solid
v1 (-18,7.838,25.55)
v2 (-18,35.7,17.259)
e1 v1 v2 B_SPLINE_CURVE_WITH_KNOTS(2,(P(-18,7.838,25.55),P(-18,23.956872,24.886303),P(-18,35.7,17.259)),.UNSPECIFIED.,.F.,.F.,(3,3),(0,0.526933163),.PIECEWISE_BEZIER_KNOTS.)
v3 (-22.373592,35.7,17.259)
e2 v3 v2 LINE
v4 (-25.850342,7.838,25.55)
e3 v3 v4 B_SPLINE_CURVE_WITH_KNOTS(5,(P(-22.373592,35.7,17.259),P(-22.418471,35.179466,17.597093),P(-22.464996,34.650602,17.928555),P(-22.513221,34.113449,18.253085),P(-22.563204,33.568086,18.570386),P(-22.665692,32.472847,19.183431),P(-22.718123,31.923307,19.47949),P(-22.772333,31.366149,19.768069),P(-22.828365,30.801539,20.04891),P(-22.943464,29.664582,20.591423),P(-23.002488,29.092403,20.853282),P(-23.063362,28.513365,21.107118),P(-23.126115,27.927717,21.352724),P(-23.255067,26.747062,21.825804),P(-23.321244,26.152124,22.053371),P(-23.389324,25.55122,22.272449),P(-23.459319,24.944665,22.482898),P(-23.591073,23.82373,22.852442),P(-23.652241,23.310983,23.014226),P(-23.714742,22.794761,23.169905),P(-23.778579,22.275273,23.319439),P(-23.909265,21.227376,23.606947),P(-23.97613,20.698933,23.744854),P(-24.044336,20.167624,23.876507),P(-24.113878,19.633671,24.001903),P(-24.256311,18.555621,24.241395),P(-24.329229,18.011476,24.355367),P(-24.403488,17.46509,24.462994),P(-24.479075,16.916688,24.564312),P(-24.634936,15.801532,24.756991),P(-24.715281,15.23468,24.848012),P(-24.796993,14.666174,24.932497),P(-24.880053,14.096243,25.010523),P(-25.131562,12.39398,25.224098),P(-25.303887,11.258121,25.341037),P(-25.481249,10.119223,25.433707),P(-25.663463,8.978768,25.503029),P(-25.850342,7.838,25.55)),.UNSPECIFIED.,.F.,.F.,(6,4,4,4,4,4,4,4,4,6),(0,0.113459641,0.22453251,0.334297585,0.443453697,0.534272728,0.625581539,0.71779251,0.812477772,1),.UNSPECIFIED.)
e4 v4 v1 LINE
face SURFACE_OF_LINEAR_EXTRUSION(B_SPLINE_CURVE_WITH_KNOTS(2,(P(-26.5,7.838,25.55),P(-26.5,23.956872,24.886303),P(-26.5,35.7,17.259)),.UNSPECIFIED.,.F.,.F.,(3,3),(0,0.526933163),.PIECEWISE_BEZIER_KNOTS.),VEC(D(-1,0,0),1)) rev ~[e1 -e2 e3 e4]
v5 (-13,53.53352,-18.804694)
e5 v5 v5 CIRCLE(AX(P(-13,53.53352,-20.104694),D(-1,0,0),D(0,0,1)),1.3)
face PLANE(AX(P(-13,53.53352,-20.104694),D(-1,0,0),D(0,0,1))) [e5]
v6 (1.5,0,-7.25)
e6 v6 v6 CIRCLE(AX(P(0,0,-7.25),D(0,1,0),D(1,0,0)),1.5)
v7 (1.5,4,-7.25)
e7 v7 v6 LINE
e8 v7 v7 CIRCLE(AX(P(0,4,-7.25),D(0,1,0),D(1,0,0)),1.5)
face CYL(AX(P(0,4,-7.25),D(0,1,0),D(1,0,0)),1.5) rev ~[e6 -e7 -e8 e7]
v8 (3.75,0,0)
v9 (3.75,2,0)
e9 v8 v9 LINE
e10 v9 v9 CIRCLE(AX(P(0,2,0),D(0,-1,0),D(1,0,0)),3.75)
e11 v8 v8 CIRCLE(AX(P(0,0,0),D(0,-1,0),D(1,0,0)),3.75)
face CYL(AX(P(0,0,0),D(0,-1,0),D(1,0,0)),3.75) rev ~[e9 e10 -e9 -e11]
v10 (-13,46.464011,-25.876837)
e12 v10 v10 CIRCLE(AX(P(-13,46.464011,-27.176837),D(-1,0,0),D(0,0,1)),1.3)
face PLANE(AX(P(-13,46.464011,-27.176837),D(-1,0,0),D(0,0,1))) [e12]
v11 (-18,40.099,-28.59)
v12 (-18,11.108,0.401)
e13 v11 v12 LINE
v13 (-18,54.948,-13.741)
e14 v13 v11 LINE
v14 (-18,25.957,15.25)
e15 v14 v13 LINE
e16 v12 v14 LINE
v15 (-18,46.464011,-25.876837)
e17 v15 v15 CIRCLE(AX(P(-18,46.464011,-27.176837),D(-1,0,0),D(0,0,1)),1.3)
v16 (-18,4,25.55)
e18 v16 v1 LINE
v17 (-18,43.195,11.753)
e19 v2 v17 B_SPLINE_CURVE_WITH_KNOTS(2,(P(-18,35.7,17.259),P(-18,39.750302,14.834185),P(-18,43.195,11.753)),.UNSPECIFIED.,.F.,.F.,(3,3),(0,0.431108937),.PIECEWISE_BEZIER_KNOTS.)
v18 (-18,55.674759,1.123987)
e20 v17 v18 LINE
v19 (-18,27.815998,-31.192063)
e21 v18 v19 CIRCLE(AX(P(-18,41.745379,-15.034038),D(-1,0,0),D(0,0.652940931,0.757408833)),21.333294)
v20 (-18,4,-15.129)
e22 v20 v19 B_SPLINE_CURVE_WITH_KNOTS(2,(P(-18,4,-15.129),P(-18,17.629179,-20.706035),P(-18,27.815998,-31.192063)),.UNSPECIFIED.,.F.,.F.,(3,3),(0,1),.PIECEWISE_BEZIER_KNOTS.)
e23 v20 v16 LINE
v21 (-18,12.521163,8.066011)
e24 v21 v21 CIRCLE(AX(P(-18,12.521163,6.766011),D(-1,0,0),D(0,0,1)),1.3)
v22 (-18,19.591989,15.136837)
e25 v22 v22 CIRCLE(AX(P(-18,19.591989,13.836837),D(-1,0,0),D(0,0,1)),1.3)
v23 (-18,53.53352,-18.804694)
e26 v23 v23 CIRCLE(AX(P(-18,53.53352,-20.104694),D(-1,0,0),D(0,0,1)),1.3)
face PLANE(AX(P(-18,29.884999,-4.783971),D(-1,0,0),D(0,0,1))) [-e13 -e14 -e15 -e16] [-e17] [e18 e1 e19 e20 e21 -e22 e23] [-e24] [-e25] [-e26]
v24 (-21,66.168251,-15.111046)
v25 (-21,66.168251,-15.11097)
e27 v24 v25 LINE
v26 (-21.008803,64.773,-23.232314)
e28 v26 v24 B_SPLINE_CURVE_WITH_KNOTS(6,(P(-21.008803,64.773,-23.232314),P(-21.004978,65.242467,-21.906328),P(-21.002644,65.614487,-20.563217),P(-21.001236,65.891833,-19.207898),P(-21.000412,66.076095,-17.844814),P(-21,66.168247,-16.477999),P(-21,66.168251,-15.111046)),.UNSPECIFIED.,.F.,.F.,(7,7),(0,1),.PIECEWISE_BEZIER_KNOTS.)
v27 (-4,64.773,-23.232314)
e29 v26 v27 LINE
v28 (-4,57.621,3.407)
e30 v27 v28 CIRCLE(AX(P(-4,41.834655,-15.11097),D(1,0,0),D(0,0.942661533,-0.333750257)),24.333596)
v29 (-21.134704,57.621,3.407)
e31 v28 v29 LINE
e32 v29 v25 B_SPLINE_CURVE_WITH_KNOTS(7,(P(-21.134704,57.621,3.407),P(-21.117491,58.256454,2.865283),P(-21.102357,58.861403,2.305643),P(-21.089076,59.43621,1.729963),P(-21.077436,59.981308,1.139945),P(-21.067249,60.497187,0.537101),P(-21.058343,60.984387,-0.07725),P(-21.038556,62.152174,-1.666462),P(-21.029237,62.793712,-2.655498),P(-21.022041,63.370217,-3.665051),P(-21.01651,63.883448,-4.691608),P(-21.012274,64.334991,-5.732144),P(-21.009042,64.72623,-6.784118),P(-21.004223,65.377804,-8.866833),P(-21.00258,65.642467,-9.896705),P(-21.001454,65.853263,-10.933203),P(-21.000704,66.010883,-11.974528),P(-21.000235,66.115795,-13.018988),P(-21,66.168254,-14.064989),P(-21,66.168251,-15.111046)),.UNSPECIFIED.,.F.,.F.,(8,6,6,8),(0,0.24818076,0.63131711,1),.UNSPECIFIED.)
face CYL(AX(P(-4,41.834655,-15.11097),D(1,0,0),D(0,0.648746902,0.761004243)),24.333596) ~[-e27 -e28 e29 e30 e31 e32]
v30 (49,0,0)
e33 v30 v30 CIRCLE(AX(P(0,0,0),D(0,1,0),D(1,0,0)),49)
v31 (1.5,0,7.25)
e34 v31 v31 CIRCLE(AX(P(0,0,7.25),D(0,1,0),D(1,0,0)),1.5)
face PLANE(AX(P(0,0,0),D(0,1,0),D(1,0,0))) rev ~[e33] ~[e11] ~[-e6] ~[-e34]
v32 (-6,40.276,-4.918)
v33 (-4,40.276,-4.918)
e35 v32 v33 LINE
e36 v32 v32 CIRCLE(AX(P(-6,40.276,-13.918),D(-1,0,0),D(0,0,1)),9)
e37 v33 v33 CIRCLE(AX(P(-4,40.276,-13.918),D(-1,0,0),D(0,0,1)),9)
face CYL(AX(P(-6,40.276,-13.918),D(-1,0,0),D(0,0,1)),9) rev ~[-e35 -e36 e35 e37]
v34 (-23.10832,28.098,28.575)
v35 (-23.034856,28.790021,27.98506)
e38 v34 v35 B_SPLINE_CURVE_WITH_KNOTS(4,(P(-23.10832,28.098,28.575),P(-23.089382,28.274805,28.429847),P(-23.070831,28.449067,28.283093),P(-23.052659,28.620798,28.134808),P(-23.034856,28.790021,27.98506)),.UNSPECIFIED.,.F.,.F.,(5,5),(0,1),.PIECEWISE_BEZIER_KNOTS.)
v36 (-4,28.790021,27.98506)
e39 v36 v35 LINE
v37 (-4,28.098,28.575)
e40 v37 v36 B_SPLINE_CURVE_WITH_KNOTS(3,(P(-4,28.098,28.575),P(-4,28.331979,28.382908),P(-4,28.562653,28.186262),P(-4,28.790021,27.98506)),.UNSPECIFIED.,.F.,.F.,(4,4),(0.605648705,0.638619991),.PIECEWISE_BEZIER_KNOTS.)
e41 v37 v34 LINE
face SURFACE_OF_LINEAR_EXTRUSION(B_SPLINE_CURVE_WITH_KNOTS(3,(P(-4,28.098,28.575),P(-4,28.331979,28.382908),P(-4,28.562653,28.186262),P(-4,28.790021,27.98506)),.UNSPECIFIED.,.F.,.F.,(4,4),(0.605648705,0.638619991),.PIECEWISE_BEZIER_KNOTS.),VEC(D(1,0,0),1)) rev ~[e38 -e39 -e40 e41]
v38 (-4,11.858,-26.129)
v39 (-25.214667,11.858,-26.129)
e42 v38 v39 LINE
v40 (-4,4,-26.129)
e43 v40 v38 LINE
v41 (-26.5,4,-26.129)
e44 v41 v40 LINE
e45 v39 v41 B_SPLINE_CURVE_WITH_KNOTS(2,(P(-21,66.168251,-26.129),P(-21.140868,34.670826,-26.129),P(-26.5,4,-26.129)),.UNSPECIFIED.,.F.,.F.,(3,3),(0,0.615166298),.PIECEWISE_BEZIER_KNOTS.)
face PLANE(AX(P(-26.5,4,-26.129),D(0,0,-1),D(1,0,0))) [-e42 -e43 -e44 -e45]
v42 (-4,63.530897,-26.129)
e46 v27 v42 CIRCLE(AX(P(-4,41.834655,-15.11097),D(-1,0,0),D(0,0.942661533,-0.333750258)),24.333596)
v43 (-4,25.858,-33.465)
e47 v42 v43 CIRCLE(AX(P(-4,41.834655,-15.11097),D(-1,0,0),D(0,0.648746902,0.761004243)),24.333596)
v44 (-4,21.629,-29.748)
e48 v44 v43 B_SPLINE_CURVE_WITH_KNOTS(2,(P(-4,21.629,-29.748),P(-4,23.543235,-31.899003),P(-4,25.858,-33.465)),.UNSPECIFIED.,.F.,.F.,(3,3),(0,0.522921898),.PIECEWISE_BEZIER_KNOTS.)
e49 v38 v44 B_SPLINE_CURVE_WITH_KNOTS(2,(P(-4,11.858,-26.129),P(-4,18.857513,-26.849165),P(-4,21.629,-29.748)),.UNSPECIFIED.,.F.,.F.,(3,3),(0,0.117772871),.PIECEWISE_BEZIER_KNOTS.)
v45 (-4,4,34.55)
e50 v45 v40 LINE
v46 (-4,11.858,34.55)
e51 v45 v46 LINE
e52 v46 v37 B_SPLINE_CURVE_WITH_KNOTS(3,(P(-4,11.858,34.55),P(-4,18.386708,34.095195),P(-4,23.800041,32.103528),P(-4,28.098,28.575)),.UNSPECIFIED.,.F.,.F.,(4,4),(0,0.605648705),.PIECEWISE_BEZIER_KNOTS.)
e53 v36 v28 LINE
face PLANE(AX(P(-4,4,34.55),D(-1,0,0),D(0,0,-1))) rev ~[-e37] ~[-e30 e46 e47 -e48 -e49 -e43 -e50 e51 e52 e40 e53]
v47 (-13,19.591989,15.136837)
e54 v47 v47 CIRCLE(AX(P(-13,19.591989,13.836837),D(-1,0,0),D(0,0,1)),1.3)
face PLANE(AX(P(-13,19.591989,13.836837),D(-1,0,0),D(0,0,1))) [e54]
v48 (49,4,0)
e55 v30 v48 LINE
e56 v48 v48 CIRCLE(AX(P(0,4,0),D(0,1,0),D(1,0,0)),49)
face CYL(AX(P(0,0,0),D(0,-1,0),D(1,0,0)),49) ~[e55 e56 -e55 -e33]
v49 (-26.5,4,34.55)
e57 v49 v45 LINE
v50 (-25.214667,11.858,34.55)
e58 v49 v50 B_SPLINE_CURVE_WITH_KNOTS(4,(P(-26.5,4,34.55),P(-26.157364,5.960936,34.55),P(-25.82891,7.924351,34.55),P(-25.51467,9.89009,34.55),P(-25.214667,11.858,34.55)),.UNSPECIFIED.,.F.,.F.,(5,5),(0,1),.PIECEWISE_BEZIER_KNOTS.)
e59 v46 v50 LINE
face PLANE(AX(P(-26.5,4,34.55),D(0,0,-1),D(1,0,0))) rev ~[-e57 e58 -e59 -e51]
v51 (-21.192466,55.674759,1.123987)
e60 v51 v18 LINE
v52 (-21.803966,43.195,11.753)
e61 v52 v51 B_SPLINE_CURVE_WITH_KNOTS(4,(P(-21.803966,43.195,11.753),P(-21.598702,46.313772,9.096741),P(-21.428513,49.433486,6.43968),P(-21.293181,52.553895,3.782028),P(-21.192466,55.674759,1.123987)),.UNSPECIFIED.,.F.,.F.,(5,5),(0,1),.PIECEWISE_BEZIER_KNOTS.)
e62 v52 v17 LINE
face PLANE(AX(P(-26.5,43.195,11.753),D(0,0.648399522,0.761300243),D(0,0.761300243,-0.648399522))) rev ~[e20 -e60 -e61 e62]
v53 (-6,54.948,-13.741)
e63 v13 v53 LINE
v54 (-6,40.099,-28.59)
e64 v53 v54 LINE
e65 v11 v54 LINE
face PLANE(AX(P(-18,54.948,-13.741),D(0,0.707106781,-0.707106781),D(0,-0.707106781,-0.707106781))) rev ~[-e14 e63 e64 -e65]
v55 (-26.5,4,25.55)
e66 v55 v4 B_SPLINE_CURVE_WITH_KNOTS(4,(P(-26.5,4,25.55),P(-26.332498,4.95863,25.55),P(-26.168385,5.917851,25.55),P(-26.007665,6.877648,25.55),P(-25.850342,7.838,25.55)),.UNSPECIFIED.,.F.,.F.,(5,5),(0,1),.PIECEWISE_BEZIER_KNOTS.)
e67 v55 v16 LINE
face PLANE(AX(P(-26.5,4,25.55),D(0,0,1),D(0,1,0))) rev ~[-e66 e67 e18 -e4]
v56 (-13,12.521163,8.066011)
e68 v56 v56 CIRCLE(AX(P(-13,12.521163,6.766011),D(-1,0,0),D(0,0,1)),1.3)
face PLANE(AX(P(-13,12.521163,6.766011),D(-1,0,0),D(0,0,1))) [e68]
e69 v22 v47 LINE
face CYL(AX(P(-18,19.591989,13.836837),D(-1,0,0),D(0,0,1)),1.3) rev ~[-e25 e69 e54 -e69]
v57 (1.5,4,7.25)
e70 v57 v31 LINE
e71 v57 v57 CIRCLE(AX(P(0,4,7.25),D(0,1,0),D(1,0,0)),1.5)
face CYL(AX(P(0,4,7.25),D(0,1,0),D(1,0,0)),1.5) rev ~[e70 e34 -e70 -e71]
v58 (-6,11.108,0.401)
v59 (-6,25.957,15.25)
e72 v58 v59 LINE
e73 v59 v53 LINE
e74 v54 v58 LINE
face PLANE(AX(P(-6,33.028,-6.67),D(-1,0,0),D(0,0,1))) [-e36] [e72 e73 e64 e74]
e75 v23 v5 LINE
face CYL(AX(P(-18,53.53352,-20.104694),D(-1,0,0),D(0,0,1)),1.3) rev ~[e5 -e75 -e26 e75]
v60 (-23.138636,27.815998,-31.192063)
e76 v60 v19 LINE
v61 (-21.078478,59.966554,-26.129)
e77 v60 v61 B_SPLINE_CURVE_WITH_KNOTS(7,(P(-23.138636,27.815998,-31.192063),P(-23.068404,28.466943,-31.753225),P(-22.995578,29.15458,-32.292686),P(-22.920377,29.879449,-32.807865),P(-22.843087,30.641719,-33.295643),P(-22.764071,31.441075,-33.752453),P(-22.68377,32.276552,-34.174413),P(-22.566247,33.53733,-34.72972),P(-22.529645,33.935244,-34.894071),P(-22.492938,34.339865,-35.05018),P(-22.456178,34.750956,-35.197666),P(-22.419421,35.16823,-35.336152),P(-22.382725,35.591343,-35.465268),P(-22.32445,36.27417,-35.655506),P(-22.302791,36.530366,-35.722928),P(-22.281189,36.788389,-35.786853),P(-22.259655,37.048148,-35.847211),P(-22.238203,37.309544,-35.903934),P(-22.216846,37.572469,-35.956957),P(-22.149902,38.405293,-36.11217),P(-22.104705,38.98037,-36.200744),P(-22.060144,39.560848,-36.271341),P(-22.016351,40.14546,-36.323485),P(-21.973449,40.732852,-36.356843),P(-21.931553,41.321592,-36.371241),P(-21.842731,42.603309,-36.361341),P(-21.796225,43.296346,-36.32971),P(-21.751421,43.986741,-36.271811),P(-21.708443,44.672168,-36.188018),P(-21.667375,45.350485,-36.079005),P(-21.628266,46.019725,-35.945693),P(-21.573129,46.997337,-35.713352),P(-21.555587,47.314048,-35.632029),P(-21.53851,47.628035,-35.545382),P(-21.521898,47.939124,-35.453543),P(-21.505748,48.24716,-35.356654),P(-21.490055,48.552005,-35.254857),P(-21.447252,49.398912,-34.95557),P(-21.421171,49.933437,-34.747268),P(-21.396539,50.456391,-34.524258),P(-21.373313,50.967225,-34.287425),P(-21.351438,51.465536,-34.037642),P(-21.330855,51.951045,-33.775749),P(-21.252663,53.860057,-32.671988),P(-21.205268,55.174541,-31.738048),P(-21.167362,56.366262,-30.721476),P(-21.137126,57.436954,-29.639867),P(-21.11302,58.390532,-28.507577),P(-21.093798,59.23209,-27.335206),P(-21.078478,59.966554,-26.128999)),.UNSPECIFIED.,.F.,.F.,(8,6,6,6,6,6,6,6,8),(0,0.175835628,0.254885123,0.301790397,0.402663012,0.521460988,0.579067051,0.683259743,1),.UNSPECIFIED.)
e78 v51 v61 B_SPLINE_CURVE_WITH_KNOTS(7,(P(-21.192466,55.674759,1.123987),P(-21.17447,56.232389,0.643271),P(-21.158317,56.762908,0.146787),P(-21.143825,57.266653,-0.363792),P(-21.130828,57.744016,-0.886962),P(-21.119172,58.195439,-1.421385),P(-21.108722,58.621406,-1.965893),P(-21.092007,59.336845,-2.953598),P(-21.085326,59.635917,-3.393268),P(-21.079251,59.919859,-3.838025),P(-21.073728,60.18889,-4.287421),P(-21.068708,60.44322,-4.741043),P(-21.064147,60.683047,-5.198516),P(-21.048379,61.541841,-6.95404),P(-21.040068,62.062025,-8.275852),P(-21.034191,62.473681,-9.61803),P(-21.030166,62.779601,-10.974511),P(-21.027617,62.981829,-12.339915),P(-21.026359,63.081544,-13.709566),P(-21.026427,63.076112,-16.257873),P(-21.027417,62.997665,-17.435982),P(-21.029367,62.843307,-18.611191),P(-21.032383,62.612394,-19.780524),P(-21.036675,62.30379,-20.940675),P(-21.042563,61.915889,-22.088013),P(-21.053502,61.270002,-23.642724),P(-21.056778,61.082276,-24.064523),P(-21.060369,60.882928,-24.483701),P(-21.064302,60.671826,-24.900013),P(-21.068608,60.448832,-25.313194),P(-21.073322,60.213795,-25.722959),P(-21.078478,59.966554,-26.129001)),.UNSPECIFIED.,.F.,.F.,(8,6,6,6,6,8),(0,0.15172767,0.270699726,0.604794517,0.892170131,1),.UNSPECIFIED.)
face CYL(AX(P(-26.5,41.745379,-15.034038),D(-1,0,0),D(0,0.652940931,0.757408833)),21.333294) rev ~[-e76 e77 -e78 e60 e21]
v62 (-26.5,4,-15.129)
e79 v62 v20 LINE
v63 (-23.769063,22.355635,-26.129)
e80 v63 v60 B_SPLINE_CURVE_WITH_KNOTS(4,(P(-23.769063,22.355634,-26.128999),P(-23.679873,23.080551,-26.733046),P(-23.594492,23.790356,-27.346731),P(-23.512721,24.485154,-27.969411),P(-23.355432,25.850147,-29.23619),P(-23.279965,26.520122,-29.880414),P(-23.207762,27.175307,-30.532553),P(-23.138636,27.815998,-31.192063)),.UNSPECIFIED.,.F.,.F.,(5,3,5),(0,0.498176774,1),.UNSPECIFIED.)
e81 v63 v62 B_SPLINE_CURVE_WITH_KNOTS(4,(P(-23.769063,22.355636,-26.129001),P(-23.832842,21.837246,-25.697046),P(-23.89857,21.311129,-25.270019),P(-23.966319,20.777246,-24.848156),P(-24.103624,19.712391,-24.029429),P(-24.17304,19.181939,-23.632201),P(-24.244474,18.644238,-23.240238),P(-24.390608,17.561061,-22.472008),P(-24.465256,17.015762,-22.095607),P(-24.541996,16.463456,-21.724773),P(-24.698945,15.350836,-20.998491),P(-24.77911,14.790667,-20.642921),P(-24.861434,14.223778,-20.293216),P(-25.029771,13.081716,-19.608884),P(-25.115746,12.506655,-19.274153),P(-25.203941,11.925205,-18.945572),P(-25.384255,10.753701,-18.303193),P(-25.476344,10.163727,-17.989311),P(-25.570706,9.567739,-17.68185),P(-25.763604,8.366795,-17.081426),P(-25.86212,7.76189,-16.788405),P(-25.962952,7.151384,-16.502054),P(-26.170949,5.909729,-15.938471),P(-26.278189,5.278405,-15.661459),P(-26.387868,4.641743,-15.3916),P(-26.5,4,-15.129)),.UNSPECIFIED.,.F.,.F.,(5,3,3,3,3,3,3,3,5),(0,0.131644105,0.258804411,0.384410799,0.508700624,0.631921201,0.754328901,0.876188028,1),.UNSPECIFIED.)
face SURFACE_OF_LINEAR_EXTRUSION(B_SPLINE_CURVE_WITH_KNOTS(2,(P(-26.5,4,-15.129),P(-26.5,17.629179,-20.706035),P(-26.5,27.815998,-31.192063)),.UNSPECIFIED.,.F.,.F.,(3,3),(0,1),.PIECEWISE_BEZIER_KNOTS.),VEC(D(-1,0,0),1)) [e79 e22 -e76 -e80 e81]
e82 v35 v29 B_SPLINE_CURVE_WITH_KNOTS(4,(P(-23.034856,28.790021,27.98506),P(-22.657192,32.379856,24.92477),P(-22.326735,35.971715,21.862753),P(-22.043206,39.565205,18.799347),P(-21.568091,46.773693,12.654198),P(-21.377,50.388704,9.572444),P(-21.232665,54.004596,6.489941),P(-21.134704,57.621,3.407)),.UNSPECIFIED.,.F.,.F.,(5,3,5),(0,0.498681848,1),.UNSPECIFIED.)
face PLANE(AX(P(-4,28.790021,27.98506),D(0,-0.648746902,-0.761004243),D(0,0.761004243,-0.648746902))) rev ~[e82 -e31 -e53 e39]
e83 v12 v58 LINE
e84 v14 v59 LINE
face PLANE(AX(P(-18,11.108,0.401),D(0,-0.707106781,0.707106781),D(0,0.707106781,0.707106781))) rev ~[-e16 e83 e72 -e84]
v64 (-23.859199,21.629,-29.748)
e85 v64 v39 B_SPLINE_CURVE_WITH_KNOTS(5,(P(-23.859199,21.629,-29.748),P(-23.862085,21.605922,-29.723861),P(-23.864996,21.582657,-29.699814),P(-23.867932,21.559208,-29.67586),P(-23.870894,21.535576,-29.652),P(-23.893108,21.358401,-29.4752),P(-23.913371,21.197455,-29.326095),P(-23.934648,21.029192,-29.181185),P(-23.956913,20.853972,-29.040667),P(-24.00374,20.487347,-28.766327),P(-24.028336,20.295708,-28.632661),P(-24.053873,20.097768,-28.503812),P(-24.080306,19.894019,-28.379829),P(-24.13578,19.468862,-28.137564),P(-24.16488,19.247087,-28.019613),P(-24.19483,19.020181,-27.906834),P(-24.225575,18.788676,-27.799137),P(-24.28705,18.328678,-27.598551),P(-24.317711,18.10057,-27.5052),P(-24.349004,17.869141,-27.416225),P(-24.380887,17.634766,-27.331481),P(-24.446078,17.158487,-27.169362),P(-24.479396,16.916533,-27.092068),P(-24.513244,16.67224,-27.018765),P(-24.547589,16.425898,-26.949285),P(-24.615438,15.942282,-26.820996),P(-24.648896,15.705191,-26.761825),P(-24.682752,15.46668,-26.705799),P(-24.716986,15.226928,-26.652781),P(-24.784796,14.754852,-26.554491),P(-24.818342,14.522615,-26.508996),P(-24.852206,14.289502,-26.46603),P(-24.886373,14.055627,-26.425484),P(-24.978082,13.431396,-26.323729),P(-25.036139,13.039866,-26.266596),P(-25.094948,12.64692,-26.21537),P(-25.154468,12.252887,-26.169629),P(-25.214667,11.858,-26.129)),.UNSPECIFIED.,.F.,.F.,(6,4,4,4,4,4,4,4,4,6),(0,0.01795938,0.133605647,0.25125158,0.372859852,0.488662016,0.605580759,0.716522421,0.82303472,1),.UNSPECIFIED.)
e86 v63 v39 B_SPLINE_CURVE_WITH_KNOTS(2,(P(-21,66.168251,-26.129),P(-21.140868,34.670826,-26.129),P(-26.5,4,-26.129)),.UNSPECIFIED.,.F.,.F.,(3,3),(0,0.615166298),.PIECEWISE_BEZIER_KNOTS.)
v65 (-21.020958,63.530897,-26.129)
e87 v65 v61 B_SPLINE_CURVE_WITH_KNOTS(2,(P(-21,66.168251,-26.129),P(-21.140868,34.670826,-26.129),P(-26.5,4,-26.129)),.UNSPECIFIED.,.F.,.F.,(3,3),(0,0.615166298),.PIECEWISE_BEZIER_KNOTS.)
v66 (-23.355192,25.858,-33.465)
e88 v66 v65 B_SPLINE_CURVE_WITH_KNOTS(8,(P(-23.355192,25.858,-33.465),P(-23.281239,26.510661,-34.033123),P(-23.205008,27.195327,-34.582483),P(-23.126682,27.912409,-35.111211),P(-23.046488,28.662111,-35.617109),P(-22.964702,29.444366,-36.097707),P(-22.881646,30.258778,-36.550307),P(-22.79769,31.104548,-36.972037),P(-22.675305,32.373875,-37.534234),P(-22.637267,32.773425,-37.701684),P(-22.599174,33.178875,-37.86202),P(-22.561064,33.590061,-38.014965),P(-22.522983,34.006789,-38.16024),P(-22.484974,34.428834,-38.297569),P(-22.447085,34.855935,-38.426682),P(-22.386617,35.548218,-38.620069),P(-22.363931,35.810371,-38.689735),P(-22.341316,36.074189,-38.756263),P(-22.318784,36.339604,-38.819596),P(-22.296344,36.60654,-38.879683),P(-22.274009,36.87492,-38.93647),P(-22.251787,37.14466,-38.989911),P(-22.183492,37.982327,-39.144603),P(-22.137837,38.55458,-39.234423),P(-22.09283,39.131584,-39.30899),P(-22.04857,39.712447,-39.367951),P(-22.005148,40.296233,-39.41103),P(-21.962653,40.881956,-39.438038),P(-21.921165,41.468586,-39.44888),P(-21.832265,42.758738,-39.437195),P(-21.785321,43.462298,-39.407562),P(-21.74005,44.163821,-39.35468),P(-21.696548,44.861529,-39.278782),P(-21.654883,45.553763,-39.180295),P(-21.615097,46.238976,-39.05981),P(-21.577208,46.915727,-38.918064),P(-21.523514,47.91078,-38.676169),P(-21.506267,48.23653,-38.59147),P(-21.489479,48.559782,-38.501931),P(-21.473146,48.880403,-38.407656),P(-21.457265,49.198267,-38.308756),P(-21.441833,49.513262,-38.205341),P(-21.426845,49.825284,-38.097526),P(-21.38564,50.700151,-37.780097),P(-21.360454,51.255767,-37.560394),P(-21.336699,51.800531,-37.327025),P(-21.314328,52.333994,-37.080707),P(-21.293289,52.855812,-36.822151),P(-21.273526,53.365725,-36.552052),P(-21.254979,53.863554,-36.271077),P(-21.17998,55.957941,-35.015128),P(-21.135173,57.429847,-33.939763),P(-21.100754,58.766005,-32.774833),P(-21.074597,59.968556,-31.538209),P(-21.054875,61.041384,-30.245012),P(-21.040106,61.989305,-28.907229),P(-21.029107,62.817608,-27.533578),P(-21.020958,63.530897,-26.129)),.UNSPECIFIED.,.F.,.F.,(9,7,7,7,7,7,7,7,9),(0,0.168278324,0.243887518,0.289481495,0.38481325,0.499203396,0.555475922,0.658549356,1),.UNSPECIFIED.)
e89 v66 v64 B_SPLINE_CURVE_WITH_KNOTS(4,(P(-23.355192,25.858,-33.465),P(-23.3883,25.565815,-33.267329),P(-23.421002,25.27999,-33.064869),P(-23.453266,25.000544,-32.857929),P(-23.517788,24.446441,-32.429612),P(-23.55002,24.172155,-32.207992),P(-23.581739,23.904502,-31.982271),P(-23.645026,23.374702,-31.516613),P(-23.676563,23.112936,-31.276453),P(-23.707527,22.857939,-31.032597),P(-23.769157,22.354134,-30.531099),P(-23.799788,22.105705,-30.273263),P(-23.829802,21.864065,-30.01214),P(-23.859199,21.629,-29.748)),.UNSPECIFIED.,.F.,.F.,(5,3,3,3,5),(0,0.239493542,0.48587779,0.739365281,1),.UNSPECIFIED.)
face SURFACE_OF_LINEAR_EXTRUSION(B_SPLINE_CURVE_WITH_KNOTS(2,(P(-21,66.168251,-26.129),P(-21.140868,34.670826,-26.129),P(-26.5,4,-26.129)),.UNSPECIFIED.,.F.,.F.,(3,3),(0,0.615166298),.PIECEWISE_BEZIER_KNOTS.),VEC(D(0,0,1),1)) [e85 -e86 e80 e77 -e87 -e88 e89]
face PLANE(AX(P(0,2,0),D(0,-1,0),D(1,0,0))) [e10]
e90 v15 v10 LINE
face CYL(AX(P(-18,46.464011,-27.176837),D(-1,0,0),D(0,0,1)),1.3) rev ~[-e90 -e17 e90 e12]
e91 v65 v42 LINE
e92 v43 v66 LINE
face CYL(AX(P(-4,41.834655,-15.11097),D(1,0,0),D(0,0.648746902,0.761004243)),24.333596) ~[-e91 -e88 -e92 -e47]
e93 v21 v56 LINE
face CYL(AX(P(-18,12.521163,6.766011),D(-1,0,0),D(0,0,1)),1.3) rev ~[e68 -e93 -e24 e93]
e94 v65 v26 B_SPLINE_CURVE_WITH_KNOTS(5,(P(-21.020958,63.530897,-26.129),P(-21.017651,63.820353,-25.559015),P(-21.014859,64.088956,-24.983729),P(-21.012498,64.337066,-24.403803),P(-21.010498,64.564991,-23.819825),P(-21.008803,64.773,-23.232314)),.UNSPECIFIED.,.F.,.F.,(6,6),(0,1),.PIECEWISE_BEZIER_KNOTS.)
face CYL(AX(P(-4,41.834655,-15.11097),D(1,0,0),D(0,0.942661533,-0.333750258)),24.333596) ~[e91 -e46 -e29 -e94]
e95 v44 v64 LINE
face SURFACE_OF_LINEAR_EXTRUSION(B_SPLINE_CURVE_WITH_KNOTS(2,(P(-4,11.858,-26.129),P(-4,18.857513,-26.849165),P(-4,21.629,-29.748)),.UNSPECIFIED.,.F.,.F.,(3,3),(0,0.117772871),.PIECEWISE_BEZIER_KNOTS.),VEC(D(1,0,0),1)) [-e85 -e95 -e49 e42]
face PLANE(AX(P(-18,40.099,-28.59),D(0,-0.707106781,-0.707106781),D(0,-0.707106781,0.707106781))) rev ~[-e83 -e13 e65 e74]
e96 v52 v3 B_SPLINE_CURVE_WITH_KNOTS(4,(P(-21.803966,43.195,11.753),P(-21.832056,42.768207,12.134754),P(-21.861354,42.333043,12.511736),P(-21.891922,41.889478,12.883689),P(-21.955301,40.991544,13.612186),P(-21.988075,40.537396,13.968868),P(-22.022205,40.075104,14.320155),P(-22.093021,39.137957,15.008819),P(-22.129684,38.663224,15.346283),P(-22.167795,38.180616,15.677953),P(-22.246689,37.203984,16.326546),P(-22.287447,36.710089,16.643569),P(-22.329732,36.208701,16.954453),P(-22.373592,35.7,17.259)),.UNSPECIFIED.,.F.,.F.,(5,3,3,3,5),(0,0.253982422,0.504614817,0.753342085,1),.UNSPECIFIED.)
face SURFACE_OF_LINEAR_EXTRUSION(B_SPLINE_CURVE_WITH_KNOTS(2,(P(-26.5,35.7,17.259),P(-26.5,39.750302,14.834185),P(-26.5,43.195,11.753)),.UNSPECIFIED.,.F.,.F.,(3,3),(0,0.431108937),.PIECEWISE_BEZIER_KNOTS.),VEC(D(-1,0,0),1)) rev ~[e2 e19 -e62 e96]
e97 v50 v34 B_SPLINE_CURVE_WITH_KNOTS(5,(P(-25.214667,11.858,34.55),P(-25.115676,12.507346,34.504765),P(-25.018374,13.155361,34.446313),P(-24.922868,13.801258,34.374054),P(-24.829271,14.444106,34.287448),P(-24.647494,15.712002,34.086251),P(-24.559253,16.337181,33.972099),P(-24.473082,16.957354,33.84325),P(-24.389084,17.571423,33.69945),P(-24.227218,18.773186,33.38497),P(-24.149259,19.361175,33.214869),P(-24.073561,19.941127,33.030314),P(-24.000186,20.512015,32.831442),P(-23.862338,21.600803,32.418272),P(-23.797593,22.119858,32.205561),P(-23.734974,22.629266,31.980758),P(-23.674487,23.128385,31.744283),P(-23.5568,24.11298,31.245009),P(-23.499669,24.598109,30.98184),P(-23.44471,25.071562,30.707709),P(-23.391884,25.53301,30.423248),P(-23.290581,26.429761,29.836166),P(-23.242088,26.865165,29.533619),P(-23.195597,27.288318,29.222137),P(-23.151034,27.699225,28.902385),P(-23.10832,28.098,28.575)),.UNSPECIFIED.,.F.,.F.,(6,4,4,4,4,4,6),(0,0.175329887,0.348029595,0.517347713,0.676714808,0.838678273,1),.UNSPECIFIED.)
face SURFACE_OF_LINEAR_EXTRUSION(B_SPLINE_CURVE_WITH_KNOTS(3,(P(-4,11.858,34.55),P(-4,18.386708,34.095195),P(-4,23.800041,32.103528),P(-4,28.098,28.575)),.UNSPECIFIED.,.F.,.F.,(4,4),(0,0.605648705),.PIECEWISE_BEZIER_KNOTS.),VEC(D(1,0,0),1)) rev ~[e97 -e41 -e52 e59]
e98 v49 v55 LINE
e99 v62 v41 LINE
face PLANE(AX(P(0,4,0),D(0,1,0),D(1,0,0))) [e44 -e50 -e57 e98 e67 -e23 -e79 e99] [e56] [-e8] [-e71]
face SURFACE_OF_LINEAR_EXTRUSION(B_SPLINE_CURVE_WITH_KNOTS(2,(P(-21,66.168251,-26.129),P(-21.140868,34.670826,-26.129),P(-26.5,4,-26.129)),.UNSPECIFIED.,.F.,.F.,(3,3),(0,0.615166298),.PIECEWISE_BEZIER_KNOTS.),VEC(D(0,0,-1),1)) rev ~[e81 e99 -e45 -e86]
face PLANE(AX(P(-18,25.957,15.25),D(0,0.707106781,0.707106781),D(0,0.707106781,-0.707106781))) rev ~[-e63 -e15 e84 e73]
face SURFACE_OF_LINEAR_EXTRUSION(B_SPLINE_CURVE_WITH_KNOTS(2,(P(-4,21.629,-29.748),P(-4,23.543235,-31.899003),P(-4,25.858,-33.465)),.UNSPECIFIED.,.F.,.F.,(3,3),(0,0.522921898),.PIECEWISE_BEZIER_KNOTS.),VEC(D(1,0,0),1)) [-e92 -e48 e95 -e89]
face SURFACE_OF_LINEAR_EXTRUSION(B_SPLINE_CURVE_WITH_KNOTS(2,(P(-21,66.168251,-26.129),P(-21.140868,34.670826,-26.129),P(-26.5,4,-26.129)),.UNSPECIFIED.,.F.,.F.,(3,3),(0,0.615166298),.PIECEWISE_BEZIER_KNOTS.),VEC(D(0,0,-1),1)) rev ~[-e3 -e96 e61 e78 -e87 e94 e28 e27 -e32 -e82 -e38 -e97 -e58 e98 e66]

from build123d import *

# Parameters (mm, degrees)
CROQUIS1_R                 = 49
SALIENTE_EXTRUIR1_DEPTH    = 4
CROQUIS2_R                 = 1.5
CORTAR_EXTRUIR1_DEPTH      = 4
CROQUIS3_W                 = 22.5
CROQUIS3_H                 = 60.679
SALIENTE_EXTRUIR2_DEPTH    = 60.773
SALIENTE_EXTRUIR3_DEPTH    = 22.5
CORTAR_EXTRUIR2_DEPTH      = 22.5
CORTAR_EXTRUIR5_DEPTH      = 8.5
CORTAR_EXTRUIR6_DEPTH      = 29.5
CORTAR_EXTRUIR6_DEPTH_BACK = 78.5
CORTAR_EXTRUIR7_DEPTH      = 12
CORTAR_EXTRUIR8_REACH      = 57
CROQUIS12_R                = 9
CROQUIS13_R                = 1.3
CORTAR_EXTRUIR9_DEPTH      = 5
CROQUIS14_R                = 3.75
CORTAR_EXTRUIR10_DEPTH     = 2


with BuildPart() as part:
    # Croquis1 → Saliente-Extruir1 (new body)
    with BuildSketch(Plane(origin=(0, 0, 0), x_dir=(1, 0, 0), z_dir=(0, 1, 0))):
        Circle(CROQUIS1_R)
    extrude(amount=SALIENTE_EXTRUIR1_DEPTH)

    # Croquis2 → Cortar-Extruir1 (cut)
    with BuildSketch(Plane(origin=(0, 4, 0), x_dir=(1, 0, 0), z_dir=(0, 1, 0))):
        with Locations((0, 7.25)):
            Circle(CROQUIS2_R)
        with Locations((0, -7.25)):
            Circle(CROQUIS2_R)
    extrude(amount=-CORTAR_EXTRUIR1_DEPTH, mode=Mode.SUBTRACT)

    # Croquis3 → Saliente-Extruir2 (add)
    with BuildSketch(Plane(origin=(0, 4, 0), x_dir=(1, 0, 0), z_dir=(0, 1, 0))):
        with Locations((-15.25, -4.2105)):
            Rectangle(CROQUIS3_W, CROQUIS3_H)
    extrude(amount=SALIENTE_EXTRUIR2_DEPTH)

    # Croquis4 → Saliente-Extruir3 (add)
    with BuildSketch(Plane(origin=(-4, 0, 0), x_dir=(0, 0, -1), z_dir=(1, 0, 0))):
        with BuildLine():
            Line((-34.55, 4), (-34.55, 11.858))
            add(Edge.make_bspline(
                [(-34.55, 11.858), (-34.026556698, 21.514345964), (-28.575, 28.098)],
                knots=[0, 0, 0, 0.824435894, 0.824435894, 0.824435894], degree=2))
            Line((-28.575, 28.098), (-3.407, 57.621))
            ThreePointArc((-3.407, 57.621), (30.992681607, 60.270900315), (33.465, 25.858))
            add(Edge.make_bspline(
                [(29.748, 21.629), (31.899002628, 23.543234873), (33.465, 25.858)],
                knots=[0, 0, 0, 0.522921898, 0.522921898, 0.522921898], degree=2))
            add(Edge.make_bspline(
                [(26.129, 11.858), (26.849165043, 18.857512826), (29.748, 21.629)],
                knots=[0, 0, 0, 0.117772871, 0.117772871, 0.117772871], degree=2))
            Line((26.129, 11.858), (26.129, 4))
            Line((26.129, 4), (-34.55, 4))
        make_face()
    extrude(amount=-SALIENTE_EXTRUIR3_DEPTH)

    # Croquis5 → Cortar-Extruir2 (cut)
    with BuildSketch(Plane(origin=(-4, 0, 0), x_dir=(0, 0, -1), z_dir=(1, 0, 0))):
        with BuildLine():
            Line((-27.985060499, 28.790020974), (-3.407, 57.621))
            ThreePointArc((-3.407, 57.621), (1.319630754, 61.88266891), (6.989626025, 64.773))
            Line((6.989626025, 64.773), (-34.55, 64.773))
            Line((-34.55, 64.773), (-34.55, 11.858))
            add(Edge.make_bspline(
                [(-34.55, 11.858), (-34.095195054, 18.386707566), (-32.103528387, 23.800040899), (-28.575, 28.098)],
                knots=[0, 0, 0, 0, 0.605648705, 0.605648705, 0.605648705, 0.605648705], degree=3))
            add(Edge.make_bspline(
                [(-28.575, 28.098), (-28.382908254, 28.331979262), (-28.186261754, 28.56265292), (-27.985060499, 28.790020974)],
                knots=[0.605648705, 0.605648705, 0.605648705, 0.605648705, 0.638619991, 0.638619991, 0.638619991, 0.638619991], degree=3))
        make_face()
        with BuildLine():
            ThreePointArc((23.232314116, 64.773), (24.700788316, 64.198896251), (26.129, 63.530897014))
            Line((26.129, 63.530897014), (26.129, 64.773))
            Line((26.129, 64.773), (23.232314116, 64.773))
        make_face()
    extrude(amount=-CORTAR_EXTRUIR2_DEPTH, mode=Mode.SUBTRACT)

    # Croquis9 → Cortar-Extruir5 (cut)
    with BuildSketch(Plane.ZY.offset(26.5)):
        with BuildLine():
            Line((25.55, 4), (25.55, 7.838))
            add(Edge.make_bspline(
                [(25.55, 7.838), (24.886302853, 23.956871559), (17.259, 35.7)],
                knots=[0, 0, 0, 0.526933163, 0.526933163, 0.526933163], degree=2))
            add(Edge.make_bspline(
                [(17.259, 35.7), (14.834185302, 39.750302487), (11.753, 43.195)],
                knots=[0, 0, 0, 0.431108937, 0.431108937, 0.431108937], degree=2))
            Line((11.753, 43.195), (1.123987272, 55.674759295))
            ThreePointArc((1.123987272, 55.674759295), (-28.963418372, 57.90340371), (-31.192062787, 27.815998066))
            add(Edge.make_bspline(
                [(-15.129, 4), (-20.706034624, 17.629178957), (-31.192062787, 27.815998066)],
                knots=[0, 0, 0, 1, 1, 1], degree=2))
            Line((-15.129, 4), (25.55, 4))
        make_face()
    extrude(amount=-CORTAR_EXTRUIR5_DEPTH, mode=Mode.SUBTRACT)

    # Croquis10 → Cortar-Extruir6 (cut, two sides)
    with BuildSketch(Plane(origin=(0, 0, -26.129), x_dir=(-1, 0, 0), z_dir=(0, 0, -1))) as cortar_extruir6_sk:
        with BuildLine():
            Line((21, 66.168251112), (26.5, 66.168251112))
            Line((26.5, 66.168251112), (26.5, 4))
            add(Edge.make_bspline(
                [(21, 66.168251112), (21.140868098, 34.670825733), (26.5, 4)],
                knots=[0, 0, 0, 0.615166298, 0.615166298, 0.615166298], degree=2))
        make_face()
    extrude(amount=CORTAR_EXTRUIR6_DEPTH, mode=Mode.SUBTRACT)
    extrude(cortar_extruir6_sk.sketch, amount=-CORTAR_EXTRUIR6_DEPTH_BACK, mode=Mode.SUBTRACT)

    # Croquis11 → Cortar-Extruir7 (cut)
    with BuildSketch(Plane.ZY.offset(18)):
        Polygon((0.401, 11.108), (15.25, 25.957), (-13.741, 54.948), (-28.59, 40.099), align=None)
    extrude(amount=-CORTAR_EXTRUIR7_DEPTH, mode=Mode.SUBTRACT)

    # Croquis12 → Cortar-Extruir8 (cut, up to next)
    with BuildSketch(Plane.ZY.offset(6), mode=Mode.PRIVATE) as cortar_extruir8_sk1:
        with Locations((-13.918, 40.276)):
            Circle(CROQUIS12_R)
    cortar_extruir8_tool1 = extrude(cortar_extruir8_sk1.sketch, amount=-CORTAR_EXTRUIR8_REACH, mode=Mode.PRIVATE) & part.part
    add(cortar_extruir8_tool1.solids().sort_by_distance((-6, 40.276, -13.918))[0], mode=Mode.SUBTRACT)

    # Croquis13 → Cortar-Extruir9 (cut)
    with BuildSketch(Plane.ZY.offset(18)):
        with Locations((-27.176836773, 46.464011366)):
            Circle(CROQUIS13_R)
        with Locations((-20.104694437, 53.533519844)):
            Circle(CROQUIS13_R)
        with Locations((6.766011366, 12.521163227)):
            Circle(CROQUIS13_R)
        with Locations((13.836836773, 19.591988634)):
            Circle(CROQUIS13_R)
    extrude(amount=-CORTAR_EXTRUIR9_DEPTH, mode=Mode.SUBTRACT)

    # Croquis14 → Cortar-Extruir10 (cut)
    with BuildSketch(Plane.XZ):
        Circle(CROQUIS14_R)
    extrude(amount=-CORTAR_EXTRUIR10_DEPTH, mode=Mode.SUBTRACT)


solid = part.part
